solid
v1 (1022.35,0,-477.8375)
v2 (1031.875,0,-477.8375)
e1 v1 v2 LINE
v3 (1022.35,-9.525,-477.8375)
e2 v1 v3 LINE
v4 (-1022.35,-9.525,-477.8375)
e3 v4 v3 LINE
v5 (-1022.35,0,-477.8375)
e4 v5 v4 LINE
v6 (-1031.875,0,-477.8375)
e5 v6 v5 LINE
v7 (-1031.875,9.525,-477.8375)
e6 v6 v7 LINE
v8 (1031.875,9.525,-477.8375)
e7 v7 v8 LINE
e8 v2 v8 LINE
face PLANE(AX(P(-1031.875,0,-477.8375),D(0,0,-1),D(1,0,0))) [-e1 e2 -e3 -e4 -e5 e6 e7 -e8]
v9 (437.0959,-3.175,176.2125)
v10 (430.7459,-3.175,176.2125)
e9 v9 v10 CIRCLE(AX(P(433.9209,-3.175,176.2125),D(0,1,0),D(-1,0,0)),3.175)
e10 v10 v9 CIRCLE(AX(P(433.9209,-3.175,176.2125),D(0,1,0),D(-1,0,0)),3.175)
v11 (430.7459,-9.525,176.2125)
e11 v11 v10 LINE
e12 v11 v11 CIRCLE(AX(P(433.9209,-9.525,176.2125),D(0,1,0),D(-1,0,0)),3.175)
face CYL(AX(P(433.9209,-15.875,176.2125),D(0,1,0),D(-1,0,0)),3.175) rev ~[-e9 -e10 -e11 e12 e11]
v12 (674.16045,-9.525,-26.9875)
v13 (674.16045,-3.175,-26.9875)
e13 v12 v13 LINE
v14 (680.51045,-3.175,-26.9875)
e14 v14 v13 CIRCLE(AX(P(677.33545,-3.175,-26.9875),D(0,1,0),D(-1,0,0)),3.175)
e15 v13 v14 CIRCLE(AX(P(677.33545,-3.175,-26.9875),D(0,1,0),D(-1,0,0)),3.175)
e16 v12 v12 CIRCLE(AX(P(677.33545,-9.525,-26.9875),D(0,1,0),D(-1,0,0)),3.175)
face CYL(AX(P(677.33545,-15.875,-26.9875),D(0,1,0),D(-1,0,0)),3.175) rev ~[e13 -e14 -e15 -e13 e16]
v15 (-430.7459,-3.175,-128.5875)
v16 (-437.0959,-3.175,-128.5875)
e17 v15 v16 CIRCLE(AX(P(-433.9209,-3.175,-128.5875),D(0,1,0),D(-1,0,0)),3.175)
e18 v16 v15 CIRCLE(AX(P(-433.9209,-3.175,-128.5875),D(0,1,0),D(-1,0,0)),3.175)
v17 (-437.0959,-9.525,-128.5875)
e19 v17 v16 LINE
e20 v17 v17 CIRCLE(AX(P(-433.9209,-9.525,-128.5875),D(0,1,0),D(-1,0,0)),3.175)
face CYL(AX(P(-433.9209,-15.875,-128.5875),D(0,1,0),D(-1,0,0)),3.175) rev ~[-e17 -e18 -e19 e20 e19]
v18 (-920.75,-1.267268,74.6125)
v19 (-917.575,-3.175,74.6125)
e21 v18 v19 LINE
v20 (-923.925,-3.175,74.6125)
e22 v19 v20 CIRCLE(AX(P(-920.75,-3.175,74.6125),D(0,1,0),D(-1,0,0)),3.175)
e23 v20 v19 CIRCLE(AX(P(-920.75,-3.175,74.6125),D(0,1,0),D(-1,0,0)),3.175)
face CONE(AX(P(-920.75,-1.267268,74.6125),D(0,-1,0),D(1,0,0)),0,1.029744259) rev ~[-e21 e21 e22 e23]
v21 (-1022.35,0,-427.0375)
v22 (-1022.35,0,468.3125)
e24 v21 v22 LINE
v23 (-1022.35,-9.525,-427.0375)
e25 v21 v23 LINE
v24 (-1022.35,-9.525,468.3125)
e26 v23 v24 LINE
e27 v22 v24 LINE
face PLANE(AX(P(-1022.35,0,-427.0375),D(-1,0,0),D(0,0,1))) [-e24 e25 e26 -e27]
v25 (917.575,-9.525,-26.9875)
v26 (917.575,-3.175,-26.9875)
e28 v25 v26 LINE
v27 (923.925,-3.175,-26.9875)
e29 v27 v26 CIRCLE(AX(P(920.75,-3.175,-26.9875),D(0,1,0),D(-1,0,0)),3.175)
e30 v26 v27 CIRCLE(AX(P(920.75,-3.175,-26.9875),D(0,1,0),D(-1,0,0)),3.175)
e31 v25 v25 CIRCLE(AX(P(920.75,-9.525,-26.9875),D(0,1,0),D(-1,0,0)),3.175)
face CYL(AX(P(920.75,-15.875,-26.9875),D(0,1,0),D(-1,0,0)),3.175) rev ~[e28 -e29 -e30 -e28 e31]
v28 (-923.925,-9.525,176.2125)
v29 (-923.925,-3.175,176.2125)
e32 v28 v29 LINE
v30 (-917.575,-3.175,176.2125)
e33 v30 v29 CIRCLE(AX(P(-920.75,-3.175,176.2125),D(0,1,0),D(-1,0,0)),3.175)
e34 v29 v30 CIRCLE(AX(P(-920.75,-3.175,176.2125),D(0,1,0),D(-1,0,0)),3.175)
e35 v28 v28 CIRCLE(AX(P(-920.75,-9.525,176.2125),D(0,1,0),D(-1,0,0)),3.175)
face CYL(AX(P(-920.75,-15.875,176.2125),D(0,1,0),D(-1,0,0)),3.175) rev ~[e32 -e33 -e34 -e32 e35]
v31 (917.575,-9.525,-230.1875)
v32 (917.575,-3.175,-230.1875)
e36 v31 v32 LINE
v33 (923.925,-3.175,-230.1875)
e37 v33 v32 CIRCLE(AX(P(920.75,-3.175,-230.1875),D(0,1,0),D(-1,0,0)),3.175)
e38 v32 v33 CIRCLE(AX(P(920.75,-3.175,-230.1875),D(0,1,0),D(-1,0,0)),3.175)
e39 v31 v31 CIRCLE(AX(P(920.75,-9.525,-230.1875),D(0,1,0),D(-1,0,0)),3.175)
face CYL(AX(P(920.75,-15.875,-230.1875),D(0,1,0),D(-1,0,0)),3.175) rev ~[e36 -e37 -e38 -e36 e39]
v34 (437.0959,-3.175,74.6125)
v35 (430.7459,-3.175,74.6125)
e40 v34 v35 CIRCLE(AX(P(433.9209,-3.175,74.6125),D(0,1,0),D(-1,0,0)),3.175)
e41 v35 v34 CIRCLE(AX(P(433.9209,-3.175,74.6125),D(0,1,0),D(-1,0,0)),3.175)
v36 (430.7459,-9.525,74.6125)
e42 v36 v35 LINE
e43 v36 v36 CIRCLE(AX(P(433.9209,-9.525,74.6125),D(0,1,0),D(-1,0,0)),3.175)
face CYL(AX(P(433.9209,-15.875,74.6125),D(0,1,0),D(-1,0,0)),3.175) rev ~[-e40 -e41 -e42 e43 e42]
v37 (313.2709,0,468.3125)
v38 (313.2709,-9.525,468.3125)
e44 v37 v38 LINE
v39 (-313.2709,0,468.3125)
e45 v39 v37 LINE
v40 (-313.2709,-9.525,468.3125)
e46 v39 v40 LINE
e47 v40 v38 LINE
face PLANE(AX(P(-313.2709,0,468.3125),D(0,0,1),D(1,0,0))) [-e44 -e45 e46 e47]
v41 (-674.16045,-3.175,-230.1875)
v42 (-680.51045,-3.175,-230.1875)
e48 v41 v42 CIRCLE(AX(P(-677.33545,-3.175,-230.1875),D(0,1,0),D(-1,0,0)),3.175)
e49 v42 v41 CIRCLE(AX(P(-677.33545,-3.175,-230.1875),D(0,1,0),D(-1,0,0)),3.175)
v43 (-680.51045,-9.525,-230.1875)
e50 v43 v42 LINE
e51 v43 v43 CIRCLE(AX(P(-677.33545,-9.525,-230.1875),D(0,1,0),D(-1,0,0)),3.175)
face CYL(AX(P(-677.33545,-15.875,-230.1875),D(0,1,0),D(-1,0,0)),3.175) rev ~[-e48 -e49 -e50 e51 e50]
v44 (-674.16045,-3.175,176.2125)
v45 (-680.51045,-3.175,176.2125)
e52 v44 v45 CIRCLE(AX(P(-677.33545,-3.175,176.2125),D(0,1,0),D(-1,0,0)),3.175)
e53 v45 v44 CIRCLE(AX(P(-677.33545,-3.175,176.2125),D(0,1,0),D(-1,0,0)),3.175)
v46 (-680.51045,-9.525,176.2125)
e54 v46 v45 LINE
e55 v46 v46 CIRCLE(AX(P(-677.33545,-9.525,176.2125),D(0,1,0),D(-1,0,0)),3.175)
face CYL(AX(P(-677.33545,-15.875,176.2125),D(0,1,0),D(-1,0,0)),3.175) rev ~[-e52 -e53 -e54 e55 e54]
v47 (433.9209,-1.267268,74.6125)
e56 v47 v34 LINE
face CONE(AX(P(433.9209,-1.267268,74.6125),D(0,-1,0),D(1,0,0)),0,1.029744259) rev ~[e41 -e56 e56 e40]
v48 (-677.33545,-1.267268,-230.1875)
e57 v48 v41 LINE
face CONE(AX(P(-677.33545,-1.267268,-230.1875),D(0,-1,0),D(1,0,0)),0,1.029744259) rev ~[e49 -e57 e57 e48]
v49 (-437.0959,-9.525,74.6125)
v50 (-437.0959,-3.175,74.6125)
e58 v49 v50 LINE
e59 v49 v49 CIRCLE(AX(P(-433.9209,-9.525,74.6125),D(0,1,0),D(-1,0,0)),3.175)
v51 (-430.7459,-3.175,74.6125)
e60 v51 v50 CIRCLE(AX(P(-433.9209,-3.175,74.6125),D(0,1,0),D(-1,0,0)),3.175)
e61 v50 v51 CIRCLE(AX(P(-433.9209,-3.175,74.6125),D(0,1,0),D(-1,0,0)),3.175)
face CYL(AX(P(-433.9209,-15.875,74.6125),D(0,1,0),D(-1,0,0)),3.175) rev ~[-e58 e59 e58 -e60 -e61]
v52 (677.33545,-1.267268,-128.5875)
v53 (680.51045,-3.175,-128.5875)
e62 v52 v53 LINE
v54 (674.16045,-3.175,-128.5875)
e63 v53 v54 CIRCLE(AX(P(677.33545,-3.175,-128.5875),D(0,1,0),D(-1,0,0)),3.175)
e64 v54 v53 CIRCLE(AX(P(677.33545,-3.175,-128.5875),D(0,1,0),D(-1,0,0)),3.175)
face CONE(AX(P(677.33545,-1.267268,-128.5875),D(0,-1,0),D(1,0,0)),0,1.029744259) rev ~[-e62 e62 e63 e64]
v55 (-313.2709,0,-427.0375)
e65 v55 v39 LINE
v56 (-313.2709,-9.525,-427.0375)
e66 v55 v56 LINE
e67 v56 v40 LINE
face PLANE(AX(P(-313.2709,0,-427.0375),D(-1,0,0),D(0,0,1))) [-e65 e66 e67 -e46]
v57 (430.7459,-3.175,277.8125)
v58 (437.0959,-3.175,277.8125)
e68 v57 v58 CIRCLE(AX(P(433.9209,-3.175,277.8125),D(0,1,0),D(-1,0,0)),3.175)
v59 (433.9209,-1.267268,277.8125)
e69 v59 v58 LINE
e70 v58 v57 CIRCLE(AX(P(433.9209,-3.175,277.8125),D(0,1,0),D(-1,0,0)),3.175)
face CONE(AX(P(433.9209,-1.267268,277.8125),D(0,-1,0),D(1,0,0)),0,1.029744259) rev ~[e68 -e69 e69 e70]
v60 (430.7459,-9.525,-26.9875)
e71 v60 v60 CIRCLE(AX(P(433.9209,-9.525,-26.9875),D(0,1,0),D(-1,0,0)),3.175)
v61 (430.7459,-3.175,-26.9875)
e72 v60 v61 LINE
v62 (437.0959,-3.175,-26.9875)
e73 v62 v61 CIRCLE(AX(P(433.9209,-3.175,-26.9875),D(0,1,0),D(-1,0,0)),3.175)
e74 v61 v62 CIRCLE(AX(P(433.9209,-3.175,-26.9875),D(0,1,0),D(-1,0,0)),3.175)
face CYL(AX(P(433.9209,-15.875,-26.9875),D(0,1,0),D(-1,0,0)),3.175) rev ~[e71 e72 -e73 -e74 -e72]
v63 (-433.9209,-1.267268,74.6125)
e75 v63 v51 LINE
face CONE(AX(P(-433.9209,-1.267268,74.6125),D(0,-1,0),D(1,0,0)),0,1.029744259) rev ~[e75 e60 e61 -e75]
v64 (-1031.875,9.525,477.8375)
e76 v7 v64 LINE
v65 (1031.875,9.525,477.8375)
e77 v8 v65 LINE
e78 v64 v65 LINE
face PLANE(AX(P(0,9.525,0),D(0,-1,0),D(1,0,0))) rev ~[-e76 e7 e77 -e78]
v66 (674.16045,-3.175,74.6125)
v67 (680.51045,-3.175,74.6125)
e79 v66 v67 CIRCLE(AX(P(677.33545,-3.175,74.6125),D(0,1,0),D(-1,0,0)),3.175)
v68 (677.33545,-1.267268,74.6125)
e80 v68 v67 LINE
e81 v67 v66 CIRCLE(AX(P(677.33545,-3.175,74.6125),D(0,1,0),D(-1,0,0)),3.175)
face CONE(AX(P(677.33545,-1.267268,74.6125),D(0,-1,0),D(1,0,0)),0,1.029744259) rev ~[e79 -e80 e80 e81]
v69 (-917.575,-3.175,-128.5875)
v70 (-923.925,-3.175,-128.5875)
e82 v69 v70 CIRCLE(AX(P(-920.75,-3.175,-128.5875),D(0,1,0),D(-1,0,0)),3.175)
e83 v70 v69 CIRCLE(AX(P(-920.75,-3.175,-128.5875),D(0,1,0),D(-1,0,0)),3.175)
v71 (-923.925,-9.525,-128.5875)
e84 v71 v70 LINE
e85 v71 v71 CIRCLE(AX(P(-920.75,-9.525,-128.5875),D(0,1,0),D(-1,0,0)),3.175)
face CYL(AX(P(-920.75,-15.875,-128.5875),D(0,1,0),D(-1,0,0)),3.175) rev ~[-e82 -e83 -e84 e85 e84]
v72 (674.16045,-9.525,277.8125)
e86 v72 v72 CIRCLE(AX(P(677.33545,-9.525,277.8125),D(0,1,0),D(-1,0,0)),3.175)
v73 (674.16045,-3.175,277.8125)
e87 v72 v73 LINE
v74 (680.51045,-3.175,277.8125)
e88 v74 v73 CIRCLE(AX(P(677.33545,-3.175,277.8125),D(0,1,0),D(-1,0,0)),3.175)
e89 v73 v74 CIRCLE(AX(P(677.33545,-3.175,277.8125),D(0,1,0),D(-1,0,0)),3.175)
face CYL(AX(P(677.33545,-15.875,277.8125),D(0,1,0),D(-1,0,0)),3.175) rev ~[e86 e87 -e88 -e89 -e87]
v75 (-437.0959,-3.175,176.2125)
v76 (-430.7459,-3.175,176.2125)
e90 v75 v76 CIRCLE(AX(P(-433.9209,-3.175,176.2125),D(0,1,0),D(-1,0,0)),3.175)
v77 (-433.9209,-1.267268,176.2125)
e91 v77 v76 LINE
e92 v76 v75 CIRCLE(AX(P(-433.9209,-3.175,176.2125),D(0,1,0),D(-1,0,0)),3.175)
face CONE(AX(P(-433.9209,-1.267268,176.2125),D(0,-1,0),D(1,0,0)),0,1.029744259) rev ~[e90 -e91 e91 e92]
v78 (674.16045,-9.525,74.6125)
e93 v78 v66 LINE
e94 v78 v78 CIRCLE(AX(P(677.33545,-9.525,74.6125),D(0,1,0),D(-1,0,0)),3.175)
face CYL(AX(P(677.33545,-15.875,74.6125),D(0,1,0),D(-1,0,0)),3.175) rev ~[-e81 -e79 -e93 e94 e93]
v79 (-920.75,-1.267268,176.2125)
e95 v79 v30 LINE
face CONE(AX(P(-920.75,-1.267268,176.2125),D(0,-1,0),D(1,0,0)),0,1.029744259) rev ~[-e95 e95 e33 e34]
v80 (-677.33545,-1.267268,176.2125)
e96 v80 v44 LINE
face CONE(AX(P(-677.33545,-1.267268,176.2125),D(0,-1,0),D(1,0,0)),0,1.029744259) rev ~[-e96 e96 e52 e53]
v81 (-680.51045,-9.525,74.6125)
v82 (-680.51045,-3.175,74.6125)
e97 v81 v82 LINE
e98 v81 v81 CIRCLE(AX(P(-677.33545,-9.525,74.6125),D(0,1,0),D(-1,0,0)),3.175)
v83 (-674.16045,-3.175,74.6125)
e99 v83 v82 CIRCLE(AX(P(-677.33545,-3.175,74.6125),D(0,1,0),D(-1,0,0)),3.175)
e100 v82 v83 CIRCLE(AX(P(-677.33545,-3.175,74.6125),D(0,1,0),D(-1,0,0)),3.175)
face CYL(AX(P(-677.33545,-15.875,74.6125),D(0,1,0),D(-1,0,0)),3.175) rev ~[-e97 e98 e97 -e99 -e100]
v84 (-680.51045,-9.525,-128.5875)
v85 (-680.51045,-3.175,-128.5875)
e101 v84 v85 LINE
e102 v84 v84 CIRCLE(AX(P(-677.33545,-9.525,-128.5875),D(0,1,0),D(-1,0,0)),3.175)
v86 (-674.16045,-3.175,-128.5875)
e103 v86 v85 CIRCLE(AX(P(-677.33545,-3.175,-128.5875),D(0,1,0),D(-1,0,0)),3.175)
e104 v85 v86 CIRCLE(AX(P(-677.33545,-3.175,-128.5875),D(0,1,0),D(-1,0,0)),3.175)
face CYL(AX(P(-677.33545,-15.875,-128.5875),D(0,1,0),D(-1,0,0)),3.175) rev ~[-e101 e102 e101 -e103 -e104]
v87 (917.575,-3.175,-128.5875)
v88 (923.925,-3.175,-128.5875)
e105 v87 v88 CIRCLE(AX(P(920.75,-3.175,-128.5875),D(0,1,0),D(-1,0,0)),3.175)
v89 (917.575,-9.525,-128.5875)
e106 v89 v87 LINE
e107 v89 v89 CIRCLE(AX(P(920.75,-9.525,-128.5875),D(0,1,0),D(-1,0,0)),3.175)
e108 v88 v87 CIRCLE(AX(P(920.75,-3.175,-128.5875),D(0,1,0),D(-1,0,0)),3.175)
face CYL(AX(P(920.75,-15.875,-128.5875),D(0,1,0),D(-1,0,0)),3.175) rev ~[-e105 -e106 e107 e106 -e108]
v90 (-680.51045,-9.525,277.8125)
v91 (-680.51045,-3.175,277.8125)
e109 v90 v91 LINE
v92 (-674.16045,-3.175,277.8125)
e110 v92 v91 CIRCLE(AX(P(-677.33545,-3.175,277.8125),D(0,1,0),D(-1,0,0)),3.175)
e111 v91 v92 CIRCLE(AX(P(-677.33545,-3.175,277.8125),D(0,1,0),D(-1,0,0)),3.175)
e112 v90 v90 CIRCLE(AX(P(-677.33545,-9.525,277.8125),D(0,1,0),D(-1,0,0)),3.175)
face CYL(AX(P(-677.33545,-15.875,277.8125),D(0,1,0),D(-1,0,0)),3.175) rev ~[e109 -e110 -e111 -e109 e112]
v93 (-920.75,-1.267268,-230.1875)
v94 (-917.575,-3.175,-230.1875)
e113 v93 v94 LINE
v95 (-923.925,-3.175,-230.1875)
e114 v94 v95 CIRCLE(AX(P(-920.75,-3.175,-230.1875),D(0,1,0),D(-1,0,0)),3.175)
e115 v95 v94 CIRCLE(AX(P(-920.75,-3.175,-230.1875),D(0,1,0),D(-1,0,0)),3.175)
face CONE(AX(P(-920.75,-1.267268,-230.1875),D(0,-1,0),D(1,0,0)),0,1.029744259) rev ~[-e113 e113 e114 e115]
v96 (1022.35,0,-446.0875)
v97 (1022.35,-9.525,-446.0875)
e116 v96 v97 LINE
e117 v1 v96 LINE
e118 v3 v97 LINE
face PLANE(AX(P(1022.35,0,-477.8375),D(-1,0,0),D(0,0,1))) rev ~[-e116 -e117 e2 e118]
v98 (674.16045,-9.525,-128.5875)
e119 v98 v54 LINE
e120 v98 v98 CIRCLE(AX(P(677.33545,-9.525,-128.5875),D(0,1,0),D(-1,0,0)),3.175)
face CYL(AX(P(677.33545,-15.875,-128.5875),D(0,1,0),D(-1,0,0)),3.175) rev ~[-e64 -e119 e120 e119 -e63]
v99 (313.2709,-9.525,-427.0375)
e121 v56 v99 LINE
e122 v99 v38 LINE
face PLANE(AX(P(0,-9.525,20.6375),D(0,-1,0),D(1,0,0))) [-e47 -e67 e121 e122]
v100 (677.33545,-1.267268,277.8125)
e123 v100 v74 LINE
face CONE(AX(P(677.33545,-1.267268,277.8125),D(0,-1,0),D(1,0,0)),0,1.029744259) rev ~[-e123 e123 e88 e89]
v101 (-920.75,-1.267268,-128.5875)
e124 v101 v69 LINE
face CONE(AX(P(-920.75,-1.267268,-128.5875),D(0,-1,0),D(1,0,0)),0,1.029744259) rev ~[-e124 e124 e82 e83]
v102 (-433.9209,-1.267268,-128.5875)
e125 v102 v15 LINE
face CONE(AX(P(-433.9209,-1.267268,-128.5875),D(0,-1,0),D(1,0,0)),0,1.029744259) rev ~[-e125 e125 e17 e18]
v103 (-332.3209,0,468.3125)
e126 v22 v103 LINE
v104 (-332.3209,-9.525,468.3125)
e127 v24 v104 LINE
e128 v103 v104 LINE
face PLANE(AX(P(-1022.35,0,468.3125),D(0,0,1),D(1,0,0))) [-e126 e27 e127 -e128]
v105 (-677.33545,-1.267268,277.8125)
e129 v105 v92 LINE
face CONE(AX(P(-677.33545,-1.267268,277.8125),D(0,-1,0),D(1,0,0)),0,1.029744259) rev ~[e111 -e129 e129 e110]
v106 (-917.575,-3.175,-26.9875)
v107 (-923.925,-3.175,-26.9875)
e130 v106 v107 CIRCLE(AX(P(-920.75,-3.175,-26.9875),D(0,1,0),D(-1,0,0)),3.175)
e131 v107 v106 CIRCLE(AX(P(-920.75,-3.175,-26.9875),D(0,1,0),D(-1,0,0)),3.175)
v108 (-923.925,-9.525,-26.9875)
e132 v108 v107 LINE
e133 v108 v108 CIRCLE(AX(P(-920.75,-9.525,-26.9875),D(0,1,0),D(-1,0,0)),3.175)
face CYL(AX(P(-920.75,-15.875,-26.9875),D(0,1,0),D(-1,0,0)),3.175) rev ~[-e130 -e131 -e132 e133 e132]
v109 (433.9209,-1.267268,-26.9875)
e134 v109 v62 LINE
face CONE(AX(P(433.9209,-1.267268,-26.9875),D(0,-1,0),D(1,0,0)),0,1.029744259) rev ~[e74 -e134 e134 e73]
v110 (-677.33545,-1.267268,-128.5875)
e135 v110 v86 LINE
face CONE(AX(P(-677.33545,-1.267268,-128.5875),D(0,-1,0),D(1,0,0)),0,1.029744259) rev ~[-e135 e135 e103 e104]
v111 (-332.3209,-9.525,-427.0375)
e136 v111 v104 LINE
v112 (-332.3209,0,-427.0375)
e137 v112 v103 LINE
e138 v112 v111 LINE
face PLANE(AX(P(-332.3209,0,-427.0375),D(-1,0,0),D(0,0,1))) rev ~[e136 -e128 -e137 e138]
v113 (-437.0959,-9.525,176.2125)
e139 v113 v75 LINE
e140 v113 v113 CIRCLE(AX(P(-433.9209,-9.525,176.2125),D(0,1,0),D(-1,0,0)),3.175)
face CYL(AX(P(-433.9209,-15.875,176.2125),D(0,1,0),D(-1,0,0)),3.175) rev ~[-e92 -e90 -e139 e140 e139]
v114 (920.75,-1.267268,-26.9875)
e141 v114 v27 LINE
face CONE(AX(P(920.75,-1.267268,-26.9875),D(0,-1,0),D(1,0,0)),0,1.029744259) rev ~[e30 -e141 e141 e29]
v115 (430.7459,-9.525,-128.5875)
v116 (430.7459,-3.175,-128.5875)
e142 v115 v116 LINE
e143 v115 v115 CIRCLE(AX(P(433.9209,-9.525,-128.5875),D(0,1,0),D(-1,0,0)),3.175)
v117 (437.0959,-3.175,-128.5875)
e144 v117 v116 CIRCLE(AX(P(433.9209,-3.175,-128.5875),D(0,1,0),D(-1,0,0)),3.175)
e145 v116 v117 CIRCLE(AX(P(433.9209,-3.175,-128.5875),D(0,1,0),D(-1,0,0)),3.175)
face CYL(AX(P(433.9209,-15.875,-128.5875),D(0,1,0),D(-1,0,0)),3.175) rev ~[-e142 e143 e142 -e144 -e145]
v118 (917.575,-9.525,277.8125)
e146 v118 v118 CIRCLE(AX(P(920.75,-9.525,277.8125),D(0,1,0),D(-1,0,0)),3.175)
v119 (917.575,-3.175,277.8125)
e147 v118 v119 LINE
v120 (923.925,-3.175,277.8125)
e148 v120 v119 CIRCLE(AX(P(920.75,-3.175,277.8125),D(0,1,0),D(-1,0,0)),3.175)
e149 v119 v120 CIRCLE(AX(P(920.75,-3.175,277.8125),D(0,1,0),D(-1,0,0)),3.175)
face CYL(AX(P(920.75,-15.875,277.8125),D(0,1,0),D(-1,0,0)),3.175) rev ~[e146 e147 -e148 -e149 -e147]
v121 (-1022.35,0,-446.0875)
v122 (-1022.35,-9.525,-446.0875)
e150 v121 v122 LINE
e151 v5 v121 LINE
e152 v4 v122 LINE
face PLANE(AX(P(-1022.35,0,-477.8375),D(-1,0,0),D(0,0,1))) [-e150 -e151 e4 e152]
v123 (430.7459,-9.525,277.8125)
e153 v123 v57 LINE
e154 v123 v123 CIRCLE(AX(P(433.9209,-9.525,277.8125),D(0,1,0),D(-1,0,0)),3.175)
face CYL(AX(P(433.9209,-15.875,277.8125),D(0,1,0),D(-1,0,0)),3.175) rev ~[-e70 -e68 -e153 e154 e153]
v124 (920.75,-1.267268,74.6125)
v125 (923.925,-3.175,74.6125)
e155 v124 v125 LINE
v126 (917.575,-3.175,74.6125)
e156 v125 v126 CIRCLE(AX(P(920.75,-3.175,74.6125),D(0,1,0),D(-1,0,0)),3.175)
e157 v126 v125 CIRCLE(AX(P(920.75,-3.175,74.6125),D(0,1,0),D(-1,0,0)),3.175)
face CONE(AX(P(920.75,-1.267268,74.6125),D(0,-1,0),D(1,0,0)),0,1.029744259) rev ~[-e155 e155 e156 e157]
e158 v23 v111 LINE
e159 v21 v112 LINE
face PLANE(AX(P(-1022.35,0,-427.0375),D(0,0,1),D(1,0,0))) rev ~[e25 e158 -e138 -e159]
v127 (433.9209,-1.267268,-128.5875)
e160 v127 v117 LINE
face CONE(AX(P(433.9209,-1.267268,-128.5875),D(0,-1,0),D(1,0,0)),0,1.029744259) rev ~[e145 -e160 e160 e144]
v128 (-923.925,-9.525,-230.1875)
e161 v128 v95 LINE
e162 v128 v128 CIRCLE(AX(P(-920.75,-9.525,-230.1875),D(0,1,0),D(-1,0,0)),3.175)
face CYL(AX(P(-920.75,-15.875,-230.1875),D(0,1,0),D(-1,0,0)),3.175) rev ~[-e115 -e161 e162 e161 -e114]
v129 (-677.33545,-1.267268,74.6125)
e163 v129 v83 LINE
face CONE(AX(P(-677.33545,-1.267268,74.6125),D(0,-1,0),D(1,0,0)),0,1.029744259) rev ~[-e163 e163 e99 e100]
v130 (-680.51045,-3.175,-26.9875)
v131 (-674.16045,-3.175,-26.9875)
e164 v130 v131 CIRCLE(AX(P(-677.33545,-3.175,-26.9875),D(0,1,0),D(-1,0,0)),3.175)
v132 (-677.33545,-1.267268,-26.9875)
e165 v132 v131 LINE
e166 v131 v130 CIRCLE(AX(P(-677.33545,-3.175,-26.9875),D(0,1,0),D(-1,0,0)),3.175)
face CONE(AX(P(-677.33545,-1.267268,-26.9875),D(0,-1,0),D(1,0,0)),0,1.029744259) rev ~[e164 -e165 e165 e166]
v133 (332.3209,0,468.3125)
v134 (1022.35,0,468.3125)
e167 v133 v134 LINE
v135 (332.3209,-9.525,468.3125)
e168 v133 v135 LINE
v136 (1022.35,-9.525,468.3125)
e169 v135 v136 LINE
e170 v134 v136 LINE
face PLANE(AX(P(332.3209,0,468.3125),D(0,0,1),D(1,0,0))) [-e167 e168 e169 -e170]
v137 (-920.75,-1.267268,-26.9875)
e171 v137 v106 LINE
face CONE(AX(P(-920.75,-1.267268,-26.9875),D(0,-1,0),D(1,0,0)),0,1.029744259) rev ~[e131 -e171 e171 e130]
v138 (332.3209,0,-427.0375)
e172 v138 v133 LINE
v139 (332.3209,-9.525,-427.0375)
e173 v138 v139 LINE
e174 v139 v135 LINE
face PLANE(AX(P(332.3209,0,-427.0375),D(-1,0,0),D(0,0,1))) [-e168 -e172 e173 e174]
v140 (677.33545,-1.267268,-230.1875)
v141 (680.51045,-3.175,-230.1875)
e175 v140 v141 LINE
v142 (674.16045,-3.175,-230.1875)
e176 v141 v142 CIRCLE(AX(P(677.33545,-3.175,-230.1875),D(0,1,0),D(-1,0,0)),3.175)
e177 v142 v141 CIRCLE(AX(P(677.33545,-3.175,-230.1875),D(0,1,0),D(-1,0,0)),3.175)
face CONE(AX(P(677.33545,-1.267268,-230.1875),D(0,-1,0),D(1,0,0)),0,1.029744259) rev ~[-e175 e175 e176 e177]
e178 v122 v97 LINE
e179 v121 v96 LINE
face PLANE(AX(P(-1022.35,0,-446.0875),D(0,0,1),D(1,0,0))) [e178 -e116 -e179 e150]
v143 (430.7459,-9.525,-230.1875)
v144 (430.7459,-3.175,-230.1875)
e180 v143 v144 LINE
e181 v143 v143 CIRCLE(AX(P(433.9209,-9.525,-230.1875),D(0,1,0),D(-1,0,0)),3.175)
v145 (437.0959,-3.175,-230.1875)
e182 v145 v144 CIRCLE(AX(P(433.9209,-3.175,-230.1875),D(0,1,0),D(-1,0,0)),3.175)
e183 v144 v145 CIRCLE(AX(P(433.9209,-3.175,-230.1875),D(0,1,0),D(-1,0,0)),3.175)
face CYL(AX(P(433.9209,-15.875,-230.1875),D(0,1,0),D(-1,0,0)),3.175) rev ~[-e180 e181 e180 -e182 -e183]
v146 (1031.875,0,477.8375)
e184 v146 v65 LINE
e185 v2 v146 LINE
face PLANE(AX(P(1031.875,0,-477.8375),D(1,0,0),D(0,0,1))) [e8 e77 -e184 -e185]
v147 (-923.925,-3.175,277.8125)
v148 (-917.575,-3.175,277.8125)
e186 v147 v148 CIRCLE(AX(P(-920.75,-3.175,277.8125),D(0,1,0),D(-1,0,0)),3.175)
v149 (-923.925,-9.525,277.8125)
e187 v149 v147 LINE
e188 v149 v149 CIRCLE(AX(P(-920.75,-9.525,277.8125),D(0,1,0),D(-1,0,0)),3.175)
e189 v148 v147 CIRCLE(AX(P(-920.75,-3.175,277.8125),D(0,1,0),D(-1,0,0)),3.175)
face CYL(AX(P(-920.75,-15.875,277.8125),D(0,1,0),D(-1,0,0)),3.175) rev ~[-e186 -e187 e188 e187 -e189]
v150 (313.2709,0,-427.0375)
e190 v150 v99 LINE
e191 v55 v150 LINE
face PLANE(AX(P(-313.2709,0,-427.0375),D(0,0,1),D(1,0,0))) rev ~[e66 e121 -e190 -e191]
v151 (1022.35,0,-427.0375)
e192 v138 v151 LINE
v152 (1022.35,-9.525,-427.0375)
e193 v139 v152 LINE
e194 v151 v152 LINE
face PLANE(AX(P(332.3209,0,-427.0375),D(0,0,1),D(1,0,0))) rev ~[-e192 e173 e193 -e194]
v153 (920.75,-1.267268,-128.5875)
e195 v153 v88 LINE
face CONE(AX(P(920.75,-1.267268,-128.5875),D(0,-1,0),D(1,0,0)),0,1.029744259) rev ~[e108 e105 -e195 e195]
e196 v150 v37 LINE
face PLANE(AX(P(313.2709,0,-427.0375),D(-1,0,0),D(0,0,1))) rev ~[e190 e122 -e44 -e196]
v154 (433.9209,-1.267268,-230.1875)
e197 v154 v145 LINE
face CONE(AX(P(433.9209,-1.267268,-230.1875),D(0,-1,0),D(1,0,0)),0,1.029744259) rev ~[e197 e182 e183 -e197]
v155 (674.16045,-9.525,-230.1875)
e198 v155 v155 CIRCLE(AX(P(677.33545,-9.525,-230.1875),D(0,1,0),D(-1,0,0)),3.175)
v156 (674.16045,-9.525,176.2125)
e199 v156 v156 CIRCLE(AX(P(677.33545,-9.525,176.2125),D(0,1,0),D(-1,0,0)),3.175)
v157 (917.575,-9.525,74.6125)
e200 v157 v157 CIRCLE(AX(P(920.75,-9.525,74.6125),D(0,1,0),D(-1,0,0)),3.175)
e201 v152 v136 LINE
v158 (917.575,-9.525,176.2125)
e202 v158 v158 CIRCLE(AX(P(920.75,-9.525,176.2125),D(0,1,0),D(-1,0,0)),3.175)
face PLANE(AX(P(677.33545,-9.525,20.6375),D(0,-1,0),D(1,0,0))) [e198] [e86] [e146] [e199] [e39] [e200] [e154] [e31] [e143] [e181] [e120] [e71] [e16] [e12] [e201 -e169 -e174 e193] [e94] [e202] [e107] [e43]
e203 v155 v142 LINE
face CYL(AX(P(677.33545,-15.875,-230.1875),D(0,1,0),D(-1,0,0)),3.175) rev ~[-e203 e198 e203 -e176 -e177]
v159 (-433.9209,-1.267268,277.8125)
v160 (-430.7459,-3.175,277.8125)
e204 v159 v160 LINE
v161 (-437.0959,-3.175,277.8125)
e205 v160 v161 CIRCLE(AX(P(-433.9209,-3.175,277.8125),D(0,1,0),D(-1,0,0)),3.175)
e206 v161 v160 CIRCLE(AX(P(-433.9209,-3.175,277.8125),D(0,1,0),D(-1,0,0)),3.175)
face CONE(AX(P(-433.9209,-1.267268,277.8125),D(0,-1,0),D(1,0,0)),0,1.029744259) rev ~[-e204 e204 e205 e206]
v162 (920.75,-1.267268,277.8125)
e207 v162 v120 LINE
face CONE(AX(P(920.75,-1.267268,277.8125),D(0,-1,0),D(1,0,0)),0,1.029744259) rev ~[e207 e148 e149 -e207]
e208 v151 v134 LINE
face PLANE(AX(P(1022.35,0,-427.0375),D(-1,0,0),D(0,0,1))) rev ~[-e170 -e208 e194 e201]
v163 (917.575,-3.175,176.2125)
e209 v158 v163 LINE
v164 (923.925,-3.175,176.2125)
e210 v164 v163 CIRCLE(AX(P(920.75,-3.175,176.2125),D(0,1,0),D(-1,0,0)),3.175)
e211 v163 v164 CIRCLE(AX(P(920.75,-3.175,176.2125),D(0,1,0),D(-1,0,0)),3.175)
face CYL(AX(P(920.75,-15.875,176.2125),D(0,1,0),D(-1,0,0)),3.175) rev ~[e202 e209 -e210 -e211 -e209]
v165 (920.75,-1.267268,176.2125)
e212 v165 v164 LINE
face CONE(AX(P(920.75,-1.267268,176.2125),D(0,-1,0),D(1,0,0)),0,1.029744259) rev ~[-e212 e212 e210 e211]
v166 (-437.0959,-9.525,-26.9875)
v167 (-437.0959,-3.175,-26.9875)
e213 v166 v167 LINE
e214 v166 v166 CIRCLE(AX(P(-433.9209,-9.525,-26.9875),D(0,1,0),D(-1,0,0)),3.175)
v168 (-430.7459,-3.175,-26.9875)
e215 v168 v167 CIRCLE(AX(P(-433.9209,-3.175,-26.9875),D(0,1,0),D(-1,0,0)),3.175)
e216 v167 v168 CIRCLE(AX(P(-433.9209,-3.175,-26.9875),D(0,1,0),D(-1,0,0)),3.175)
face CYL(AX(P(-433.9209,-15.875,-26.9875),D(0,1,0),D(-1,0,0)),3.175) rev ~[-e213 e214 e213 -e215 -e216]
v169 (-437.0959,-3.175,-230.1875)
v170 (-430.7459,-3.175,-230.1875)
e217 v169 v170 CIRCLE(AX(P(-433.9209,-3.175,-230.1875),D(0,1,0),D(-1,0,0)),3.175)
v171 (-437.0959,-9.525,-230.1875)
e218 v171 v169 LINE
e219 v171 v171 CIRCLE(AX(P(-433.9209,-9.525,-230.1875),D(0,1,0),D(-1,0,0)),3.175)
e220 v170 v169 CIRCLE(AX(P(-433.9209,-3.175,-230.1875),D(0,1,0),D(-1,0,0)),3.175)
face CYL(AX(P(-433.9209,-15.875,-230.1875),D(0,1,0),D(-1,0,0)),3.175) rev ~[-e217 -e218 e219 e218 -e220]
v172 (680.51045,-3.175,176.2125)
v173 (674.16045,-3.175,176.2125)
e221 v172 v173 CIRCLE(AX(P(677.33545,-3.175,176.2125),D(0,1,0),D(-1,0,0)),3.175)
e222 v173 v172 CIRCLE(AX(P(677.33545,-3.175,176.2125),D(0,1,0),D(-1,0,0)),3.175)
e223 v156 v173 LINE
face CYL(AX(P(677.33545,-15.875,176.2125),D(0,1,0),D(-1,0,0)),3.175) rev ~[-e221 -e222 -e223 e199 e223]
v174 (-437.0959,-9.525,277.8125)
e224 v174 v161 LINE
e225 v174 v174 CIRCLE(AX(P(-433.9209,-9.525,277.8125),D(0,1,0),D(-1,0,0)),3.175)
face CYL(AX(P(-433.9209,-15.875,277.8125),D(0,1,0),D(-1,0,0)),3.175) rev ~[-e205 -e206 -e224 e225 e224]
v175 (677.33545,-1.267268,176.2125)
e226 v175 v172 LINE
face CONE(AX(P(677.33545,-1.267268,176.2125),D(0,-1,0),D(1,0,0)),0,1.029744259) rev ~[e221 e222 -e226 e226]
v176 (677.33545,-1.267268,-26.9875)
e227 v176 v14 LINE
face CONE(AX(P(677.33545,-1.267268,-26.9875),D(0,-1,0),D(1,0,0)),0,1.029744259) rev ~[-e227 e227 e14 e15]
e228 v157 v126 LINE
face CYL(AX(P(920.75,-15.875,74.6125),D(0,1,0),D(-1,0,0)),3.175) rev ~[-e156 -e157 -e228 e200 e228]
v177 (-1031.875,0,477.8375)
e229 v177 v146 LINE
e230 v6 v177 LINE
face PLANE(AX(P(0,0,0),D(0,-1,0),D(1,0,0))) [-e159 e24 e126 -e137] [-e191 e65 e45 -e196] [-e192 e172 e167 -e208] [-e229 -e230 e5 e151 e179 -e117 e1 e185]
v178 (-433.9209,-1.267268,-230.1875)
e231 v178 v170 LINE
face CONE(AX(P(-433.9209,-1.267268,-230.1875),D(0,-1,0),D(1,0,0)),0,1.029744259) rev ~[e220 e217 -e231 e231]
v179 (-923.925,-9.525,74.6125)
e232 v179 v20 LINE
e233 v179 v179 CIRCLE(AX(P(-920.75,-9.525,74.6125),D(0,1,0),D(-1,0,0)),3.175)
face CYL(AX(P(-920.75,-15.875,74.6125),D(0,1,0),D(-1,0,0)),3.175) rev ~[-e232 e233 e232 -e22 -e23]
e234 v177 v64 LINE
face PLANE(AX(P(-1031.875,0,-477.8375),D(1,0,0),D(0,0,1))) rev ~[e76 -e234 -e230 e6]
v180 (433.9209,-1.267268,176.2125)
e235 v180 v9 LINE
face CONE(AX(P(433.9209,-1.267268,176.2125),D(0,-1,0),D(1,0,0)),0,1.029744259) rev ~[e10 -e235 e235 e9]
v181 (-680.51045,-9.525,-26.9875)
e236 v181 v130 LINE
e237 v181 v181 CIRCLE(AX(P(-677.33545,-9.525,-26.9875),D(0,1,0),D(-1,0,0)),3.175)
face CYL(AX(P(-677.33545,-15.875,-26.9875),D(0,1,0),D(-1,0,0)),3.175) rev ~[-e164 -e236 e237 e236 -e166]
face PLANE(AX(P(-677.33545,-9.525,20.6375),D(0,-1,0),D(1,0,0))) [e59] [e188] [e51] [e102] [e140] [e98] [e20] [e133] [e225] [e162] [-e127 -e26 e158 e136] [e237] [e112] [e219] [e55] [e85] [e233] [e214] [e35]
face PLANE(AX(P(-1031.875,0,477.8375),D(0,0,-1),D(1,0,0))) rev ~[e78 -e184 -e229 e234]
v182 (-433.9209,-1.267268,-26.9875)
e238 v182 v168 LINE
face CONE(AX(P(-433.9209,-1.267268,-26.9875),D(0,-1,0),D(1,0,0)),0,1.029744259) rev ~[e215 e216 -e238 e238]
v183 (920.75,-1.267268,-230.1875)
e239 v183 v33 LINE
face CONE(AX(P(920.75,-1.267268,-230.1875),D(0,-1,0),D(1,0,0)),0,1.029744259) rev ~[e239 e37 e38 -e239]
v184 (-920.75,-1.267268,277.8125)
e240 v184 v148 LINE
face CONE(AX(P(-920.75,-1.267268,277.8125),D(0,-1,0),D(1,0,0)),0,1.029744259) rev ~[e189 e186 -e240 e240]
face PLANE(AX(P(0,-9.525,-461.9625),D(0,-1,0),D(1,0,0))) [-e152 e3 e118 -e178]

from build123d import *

# Parameters (mm, degrees)
F0_W     = 2063.75
F0_H     = 955.675
F2_DEPTH = 9.525
F1_W     = 690.0291
F1_H     = 895.35
F1_W_2   = 2044.7
F1_H_2   = 31.75
F1_W_3   = 626.5418
F3_DEPTH = 9.525
F5_D     = 6.35
F5_DEPTH = 6.35
F5_TIP   = 1.9077324654


with BuildPart() as f2:
    # F0 (on Front) → F2 (new body)
    with BuildSketch(Plane.XZ):
        Rectangle(F0_W, F0_H)
    extrude(amount=-F2_DEPTH)

    # F1 (on Front) → F3 (join)
    with BuildSketch(Plane.XZ):
        with Locations((-677.33545, 20.6375)):
            Rectangle(F1_W, F1_H)
        with Locations((677.33545, 20.6375)):
            Rectangle(F1_W, F1_H)
        with Locations((0, -461.9625)):
            Rectangle(F1_W_2, F1_H_2)
        with Locations((0, 20.6375)):
            Rectangle(F1_W_3, F1_H)
    extrude(amount=F3_DEPTH)

    # F5
    with Locations(Plane.XZ.offset(9.525)):
        with Locations((-920.75, 74.6125), (-677.33545, 277.8125), (-433.9209, -128.5875), (-920.75, -230.1875), (-433.9209, -26.9875), (-677.33545, -26.9875), (-433.9209, 74.6125), (-920.75, 277.8125), (-920.75, -26.9875), (-433.9209, 277.8125), (-433.9209, -230.1875), (-433.9209, 176.2125), (-677.33545, -230.1875), (-920.75, -128.5875), (-677.33545, 74.6125), (-677.33545, 176.2125), (-920.75, 176.2125), (-677.33545, -128.5875), (677.33545, -128.5875), (677.33545, 176.2125), (433.9209, 277.8125), (920.75, 277.8125), (920.75, -230.1875), (677.33545, -230.1875), (920.75, 74.6125), (920.75, -26.9875), (920.75, -128.5875), (677.33545, 74.6125), (677.33545, 277.8125), (433.9209, -230.1875), (433.9209, 176.2125), (433.9209, -128.5875), (677.33545, -26.9875), (433.9209, 74.6125), (433.9209, -26.9875), (920.75, 176.2125)):
            Hole(F5_D / 2, depth=F5_DEPTH)
            with Locations((0, 0, -(F5_DEPTH + F5_TIP / 2))):  # 118° drill point
                Cone(0, F5_D / 2, F5_TIP, mode=Mode.SUBTRACT)


solid = f2.part
